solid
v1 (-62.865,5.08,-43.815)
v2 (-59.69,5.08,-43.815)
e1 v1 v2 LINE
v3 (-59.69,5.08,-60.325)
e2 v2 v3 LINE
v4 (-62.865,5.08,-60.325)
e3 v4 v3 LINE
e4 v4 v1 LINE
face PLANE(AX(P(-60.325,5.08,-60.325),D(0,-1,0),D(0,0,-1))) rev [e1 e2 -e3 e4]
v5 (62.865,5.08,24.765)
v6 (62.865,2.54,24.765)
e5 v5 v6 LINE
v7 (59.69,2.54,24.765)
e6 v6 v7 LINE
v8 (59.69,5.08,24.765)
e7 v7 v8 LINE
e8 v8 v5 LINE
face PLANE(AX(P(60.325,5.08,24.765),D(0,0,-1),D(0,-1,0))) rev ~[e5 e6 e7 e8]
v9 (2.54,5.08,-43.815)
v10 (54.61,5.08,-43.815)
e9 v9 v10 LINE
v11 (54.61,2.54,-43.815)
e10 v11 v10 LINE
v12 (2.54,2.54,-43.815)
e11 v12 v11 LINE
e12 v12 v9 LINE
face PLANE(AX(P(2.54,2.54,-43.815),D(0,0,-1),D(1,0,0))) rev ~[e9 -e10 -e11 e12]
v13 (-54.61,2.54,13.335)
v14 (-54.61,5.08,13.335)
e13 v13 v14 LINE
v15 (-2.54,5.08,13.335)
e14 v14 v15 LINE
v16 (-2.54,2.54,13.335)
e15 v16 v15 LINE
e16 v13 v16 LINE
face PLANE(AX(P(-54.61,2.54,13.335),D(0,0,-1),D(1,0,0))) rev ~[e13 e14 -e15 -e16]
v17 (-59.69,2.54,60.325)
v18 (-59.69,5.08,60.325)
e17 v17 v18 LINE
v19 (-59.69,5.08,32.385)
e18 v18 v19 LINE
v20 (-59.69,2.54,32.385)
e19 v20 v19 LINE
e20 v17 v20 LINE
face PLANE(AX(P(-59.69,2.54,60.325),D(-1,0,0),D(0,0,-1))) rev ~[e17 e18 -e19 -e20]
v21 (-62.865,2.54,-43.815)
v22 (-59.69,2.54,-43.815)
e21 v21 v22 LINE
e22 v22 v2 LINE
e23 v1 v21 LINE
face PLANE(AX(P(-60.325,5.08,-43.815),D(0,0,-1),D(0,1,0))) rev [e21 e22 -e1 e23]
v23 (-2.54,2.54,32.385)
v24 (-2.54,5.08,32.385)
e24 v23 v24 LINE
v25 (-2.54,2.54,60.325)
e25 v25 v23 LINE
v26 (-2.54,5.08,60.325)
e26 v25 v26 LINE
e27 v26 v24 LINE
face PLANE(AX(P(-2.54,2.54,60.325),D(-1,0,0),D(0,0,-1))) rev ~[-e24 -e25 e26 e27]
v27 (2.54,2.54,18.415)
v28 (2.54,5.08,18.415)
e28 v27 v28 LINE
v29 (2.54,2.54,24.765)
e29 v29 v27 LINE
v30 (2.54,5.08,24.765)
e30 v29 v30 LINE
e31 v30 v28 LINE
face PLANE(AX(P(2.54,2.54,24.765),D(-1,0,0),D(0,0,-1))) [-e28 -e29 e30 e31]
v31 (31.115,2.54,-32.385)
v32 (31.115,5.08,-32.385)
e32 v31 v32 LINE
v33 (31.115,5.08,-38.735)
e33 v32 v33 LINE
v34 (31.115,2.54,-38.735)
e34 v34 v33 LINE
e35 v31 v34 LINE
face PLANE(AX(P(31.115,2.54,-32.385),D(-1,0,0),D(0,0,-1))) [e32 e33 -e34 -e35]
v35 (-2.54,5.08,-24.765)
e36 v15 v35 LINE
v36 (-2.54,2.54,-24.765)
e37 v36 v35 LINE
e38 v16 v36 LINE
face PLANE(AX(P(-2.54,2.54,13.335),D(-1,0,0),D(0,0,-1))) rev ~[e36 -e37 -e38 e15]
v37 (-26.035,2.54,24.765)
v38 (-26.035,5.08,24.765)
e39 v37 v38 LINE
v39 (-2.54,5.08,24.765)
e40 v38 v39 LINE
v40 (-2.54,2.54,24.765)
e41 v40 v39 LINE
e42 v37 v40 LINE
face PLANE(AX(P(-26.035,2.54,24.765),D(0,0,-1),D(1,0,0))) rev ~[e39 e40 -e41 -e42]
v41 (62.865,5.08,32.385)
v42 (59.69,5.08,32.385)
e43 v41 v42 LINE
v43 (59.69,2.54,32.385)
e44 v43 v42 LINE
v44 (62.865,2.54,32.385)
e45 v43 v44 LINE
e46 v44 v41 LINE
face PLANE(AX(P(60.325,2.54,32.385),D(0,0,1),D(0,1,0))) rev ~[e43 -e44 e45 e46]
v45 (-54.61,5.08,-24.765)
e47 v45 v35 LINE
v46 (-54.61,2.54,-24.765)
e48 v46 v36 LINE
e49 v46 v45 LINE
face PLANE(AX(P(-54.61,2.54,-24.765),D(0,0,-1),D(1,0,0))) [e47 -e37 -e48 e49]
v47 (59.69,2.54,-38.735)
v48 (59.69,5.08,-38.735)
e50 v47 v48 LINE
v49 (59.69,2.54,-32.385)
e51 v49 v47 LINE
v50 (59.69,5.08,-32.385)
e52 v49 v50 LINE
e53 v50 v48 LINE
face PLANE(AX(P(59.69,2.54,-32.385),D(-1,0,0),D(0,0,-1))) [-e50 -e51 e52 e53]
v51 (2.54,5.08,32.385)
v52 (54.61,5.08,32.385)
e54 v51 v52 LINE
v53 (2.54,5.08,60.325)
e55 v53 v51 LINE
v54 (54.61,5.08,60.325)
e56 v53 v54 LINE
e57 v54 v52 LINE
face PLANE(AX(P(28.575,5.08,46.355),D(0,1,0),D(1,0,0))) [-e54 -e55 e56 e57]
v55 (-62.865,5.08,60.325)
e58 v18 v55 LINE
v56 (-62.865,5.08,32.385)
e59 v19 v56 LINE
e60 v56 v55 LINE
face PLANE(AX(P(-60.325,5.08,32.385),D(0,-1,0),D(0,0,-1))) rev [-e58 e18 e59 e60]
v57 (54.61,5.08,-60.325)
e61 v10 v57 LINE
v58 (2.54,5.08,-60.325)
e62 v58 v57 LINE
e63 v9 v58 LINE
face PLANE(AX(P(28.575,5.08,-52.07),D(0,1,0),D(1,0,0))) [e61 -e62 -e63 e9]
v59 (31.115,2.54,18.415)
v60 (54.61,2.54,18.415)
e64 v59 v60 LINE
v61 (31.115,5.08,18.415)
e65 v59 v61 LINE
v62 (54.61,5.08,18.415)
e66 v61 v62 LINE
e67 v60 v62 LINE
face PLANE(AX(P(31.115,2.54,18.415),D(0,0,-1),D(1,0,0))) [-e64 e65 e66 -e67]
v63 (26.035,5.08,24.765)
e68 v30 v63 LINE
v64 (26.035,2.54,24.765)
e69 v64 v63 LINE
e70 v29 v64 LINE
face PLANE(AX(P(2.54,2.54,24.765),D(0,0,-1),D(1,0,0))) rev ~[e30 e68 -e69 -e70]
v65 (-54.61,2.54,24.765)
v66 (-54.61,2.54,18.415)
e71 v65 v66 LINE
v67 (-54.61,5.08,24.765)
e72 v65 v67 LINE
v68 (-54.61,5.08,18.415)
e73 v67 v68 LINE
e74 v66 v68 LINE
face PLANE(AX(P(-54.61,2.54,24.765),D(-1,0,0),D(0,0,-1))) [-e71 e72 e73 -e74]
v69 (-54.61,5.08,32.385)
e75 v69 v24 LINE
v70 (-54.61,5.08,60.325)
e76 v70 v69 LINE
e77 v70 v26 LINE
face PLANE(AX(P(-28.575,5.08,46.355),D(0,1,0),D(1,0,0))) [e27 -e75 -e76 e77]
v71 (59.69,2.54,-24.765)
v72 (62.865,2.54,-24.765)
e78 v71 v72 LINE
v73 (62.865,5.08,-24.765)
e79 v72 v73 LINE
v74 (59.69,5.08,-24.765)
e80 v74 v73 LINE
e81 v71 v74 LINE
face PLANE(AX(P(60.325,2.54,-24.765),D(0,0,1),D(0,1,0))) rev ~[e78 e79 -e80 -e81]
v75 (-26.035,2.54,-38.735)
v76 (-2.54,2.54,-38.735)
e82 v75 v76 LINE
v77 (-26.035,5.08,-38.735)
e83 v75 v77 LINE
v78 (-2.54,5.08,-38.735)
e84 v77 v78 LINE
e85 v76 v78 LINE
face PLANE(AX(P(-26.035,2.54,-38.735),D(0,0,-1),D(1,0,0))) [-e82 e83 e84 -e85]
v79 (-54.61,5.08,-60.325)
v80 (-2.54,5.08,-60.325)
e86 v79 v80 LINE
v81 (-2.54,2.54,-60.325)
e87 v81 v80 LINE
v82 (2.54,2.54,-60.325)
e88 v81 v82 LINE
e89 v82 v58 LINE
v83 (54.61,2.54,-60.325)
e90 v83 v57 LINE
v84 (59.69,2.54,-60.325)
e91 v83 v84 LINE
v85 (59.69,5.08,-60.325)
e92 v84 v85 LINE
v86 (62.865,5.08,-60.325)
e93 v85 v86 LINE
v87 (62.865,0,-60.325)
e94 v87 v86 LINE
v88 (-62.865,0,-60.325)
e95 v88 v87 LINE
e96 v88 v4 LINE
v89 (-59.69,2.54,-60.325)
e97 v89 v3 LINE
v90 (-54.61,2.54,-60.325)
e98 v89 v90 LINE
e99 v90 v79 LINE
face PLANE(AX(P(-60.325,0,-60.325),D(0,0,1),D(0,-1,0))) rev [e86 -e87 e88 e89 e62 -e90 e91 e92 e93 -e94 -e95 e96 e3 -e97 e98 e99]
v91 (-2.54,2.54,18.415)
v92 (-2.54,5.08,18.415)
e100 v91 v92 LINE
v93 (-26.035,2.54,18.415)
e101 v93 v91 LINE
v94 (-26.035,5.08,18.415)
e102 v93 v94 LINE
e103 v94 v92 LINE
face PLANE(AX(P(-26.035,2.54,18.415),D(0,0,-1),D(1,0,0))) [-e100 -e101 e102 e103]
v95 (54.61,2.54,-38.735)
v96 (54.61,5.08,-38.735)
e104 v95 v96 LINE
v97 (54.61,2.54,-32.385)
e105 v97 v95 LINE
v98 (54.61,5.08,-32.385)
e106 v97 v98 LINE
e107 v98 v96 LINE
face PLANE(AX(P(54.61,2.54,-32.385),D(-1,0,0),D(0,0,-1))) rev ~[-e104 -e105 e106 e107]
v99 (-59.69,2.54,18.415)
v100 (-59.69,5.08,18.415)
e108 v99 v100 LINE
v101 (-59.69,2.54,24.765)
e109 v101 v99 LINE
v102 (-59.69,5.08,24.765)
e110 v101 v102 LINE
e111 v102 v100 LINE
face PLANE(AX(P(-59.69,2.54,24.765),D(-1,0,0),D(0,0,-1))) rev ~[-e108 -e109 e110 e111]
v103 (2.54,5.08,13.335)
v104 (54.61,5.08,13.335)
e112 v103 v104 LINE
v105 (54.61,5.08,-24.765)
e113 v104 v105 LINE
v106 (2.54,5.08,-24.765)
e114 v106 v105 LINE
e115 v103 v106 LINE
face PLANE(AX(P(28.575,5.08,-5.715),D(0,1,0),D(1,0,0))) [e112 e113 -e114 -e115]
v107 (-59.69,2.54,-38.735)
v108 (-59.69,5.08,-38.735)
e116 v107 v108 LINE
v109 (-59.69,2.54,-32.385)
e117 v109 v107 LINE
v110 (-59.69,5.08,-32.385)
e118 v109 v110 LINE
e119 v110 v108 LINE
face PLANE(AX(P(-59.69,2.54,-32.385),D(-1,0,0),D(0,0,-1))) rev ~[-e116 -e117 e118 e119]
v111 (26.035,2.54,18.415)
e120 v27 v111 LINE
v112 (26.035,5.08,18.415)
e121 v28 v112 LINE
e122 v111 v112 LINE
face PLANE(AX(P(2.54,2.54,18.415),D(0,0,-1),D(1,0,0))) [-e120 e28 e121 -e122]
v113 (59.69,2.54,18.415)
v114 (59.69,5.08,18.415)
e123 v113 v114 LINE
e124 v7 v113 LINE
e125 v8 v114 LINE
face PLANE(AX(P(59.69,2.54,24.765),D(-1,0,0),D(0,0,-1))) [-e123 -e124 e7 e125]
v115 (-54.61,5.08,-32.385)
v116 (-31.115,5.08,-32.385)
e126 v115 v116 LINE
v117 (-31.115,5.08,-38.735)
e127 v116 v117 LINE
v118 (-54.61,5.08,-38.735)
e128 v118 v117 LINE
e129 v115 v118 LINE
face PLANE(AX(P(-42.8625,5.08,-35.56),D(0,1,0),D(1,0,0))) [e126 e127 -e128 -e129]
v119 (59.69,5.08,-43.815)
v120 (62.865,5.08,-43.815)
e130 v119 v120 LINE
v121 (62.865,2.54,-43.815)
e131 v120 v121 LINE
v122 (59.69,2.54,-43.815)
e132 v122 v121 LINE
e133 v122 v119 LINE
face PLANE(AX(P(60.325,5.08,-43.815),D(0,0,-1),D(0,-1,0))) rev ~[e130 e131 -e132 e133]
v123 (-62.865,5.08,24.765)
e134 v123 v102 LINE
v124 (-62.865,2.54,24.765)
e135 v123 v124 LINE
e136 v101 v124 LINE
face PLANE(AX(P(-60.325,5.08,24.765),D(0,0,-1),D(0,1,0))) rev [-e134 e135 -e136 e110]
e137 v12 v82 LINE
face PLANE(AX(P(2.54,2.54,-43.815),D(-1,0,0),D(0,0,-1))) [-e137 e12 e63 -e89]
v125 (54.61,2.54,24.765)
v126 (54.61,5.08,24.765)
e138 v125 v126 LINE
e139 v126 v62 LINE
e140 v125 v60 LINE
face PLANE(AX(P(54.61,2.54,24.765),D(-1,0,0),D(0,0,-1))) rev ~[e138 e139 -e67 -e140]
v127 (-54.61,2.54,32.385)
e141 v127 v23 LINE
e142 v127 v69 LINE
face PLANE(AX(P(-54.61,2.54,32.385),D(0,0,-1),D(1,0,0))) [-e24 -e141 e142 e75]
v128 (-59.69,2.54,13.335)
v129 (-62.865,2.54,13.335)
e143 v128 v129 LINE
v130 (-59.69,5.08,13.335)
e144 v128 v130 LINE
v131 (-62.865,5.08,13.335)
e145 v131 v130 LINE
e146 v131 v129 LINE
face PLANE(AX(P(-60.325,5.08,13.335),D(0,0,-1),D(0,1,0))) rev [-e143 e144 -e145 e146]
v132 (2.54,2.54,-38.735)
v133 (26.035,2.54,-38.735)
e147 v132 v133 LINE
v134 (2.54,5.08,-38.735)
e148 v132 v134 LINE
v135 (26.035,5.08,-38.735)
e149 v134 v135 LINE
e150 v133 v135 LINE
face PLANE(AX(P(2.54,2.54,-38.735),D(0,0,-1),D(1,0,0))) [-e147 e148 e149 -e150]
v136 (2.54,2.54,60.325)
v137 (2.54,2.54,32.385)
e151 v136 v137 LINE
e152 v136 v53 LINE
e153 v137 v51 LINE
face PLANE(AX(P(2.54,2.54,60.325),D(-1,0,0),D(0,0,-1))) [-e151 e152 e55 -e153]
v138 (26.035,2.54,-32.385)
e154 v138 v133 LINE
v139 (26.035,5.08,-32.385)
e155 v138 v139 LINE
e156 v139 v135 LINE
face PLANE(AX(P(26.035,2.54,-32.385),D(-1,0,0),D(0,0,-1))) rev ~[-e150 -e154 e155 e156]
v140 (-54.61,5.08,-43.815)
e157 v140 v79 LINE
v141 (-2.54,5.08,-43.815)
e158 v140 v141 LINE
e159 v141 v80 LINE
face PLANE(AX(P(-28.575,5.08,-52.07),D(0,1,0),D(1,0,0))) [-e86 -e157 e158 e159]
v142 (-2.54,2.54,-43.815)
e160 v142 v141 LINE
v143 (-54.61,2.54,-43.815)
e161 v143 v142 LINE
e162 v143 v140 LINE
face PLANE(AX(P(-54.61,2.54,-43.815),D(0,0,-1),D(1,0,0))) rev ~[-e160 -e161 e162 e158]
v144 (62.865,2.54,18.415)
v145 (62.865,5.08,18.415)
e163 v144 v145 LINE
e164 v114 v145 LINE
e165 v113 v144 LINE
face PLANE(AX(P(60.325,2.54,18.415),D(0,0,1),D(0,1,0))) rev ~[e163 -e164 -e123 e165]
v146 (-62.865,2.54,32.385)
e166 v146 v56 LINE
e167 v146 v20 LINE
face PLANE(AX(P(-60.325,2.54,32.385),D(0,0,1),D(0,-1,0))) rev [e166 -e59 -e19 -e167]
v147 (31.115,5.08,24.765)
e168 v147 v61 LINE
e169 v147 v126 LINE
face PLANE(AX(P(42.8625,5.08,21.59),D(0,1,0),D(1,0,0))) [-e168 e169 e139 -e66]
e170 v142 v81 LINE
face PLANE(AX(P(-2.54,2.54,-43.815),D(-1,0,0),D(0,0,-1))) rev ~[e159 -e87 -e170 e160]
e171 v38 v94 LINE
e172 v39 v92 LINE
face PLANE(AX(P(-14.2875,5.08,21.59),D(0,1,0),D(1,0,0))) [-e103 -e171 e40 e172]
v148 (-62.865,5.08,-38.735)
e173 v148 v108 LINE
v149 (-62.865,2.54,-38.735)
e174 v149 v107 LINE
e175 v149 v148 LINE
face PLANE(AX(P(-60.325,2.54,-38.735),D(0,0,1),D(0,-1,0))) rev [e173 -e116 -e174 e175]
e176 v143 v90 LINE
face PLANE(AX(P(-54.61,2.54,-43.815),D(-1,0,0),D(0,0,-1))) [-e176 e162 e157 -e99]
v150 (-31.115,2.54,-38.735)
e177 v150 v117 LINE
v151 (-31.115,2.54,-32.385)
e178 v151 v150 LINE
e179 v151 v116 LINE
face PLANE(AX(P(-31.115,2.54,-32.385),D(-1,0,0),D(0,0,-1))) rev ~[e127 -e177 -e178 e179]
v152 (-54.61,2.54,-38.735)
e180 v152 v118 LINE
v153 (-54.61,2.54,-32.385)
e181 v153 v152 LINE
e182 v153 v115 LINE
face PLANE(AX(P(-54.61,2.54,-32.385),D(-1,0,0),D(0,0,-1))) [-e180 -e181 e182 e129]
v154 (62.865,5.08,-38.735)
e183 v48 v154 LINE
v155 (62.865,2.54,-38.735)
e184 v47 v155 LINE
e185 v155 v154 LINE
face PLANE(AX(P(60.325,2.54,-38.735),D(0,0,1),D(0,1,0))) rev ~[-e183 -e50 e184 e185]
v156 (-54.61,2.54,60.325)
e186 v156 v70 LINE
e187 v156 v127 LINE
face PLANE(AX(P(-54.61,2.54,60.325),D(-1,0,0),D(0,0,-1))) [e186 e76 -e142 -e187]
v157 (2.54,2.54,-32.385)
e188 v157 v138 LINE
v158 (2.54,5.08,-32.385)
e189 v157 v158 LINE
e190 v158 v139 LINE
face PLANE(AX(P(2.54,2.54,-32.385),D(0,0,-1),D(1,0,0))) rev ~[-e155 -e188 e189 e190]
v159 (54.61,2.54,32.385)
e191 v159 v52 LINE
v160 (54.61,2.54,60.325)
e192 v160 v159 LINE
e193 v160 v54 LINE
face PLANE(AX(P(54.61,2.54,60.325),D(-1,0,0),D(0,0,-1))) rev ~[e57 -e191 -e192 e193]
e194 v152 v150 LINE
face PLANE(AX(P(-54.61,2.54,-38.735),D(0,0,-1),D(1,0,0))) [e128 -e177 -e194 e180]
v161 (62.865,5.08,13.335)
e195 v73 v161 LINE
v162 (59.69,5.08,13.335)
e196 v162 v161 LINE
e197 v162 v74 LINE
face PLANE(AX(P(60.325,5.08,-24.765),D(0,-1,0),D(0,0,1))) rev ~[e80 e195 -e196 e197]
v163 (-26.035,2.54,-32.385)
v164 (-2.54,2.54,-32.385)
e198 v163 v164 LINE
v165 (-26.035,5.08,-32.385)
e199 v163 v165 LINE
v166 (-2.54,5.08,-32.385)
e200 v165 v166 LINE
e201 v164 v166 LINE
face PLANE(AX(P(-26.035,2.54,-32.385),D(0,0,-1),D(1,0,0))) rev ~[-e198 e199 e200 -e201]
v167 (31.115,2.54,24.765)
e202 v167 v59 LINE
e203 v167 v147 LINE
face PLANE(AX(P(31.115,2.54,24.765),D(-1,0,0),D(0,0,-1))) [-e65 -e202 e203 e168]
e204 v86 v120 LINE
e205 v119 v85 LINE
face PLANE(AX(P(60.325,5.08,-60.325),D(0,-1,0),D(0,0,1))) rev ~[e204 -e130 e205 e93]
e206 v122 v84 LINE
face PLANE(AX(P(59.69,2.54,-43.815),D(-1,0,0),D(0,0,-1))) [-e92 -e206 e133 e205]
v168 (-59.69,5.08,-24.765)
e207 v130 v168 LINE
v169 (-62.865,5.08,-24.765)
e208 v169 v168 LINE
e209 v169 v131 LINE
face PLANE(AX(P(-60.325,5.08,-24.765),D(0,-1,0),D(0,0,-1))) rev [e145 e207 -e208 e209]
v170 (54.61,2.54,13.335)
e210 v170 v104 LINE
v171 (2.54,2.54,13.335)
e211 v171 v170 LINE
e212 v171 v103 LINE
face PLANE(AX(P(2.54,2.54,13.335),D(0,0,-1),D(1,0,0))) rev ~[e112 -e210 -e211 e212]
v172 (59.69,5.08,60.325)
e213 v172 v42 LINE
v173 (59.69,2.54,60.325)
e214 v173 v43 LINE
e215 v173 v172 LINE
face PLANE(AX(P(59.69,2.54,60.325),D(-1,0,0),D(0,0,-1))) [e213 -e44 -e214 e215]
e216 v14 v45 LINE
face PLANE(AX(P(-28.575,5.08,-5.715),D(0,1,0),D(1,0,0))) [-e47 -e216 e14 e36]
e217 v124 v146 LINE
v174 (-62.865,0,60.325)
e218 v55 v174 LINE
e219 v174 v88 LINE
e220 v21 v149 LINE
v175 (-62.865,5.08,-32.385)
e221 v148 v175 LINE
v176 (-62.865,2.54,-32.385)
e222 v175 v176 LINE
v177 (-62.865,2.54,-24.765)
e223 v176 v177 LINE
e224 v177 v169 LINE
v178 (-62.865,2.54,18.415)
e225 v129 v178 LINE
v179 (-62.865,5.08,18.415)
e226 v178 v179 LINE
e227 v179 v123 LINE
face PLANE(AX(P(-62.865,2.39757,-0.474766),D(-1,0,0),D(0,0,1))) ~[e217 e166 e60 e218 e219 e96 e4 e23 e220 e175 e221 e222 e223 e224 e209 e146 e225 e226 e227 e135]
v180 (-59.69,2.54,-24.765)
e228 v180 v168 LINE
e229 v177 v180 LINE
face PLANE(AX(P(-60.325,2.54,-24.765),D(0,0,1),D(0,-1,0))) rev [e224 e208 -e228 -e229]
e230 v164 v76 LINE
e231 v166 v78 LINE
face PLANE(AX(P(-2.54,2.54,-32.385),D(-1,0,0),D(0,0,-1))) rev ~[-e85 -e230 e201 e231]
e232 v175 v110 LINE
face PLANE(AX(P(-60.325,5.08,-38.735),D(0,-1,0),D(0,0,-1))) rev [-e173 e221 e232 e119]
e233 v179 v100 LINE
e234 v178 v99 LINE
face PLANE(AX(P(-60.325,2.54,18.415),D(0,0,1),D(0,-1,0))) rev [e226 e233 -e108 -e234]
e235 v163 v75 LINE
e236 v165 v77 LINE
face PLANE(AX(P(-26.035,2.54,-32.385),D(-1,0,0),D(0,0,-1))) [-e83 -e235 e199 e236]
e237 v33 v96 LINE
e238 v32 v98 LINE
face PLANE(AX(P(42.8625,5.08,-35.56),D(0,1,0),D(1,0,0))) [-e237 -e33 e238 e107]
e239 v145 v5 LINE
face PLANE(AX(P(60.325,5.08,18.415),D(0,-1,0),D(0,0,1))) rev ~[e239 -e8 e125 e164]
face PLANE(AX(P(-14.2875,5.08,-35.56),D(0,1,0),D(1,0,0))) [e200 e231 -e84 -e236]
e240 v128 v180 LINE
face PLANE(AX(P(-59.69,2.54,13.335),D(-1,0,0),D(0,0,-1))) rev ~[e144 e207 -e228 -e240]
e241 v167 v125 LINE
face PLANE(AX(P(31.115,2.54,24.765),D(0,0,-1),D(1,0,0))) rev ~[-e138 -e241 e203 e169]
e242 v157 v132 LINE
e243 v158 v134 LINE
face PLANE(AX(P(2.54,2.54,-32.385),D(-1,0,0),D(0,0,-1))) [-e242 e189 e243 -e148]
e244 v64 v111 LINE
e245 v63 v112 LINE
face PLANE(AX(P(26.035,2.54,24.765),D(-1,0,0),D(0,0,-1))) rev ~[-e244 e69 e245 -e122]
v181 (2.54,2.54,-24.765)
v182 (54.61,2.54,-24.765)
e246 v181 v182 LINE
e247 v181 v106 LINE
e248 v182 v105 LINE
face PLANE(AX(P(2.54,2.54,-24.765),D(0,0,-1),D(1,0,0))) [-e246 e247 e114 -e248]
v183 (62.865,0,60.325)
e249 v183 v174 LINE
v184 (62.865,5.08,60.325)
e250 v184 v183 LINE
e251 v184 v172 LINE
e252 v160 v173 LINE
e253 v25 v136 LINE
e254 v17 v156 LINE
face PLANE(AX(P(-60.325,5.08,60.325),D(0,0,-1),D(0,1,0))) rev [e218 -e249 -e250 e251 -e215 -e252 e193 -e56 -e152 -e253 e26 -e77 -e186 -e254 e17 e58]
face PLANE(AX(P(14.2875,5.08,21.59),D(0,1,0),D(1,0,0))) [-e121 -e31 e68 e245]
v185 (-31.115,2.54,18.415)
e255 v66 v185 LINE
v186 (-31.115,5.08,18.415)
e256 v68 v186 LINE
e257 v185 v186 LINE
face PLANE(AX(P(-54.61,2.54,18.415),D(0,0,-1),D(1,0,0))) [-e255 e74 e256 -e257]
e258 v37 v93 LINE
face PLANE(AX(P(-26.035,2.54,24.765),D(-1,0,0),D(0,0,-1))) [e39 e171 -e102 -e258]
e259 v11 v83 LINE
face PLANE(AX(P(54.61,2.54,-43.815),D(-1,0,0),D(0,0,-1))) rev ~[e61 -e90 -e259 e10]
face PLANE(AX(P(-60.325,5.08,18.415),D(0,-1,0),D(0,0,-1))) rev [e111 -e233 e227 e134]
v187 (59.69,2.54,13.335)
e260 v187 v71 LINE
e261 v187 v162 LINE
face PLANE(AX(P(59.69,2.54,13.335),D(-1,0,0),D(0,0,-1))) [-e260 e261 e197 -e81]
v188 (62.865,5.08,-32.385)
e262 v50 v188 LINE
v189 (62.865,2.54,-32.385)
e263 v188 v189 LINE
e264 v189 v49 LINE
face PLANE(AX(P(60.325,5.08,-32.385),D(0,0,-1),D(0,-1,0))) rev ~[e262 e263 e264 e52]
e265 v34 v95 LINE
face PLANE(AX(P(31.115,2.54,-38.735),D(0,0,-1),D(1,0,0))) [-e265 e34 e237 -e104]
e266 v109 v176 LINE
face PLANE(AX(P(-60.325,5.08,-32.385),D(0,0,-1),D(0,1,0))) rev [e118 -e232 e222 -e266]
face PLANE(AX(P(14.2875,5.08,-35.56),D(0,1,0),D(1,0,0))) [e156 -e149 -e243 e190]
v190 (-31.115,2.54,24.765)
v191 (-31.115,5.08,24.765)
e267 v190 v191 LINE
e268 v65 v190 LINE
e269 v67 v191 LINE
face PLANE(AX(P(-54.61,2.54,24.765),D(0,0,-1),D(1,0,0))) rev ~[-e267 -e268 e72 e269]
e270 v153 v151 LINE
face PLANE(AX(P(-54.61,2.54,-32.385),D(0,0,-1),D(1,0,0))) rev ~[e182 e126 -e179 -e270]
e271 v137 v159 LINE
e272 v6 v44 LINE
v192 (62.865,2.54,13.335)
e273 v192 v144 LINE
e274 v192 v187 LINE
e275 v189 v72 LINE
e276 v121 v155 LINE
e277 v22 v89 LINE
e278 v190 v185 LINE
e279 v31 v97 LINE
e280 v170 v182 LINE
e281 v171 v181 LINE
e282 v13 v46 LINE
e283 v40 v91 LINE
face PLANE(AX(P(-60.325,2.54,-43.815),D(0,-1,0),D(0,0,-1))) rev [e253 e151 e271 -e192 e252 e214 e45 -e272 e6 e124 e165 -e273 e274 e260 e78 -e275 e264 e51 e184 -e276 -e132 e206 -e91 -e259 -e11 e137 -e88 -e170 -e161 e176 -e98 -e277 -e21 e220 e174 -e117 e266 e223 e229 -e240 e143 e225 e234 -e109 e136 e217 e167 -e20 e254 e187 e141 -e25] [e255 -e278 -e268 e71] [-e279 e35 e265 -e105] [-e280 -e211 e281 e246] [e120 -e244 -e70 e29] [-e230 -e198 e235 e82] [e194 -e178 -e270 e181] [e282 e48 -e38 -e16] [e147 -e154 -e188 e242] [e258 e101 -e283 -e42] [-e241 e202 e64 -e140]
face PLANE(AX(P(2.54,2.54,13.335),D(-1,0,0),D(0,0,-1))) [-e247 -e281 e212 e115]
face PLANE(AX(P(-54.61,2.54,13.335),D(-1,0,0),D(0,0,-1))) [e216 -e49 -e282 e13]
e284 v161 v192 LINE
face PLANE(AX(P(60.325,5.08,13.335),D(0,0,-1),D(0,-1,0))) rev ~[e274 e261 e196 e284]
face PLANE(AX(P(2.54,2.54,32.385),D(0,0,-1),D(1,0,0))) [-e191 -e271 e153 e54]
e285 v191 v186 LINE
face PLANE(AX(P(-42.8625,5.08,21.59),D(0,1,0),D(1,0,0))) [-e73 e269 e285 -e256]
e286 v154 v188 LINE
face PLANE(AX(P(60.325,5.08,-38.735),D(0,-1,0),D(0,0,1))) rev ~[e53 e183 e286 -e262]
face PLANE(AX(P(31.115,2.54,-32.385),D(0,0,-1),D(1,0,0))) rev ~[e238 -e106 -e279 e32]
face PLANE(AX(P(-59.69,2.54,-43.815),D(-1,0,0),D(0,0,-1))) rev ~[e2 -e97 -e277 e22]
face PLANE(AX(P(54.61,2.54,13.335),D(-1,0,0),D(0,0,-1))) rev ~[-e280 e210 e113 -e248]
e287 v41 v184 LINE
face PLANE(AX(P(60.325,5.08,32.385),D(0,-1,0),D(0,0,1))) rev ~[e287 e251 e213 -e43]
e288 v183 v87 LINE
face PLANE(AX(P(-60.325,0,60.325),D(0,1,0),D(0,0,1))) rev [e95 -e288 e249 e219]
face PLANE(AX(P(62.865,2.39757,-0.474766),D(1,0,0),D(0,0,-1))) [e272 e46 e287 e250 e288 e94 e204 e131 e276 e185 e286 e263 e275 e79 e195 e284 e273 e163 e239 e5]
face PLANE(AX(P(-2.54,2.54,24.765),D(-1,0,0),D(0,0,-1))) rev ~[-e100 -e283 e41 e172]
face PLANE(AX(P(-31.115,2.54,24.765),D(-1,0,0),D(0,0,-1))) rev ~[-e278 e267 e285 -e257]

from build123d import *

# Parameters (mm, degrees)
SKETCH2_W           = 120.65
SKETCH2_H           = 120.65
BOSS_EXTRUDE1_DEPTH = 2.54
SKETCH3_W           = 52.07
SKETCH3_H           = 16.51
SKETCH3_W_2         = 0.635
SKETCH3_H_2         = 6.35
SKETCH3_H_3         = 27.94
SKETCH3_W_3         = 23.495
SKETCH3_H_4         = 38.1
BOSS_EXTRUDE2_DEPTH = 2.54
BOSS_EXTRUDE4_DEPTH = 2.54


with BuildPart() as part:
    # Sketch2 → Boss-Extrude1 (new body)
    with BuildSketch(Plane(origin=(0, 0, 0), x_dir=(1, 0, 0), z_dir=(0, 1, 0))):
        Rectangle(SKETCH2_W, SKETCH2_H)
    extrude(amount=BOSS_EXTRUDE1_DEPTH)

    # Sketch3 → Boss-Extrude2 (add)
    with BuildSketch(Plane(origin=(0, 2.54, 0), x_dir=(1, 0, 0), z_dir=(0, 1, 0))):
        with Locations((-28.575, 52.07)):
            Rectangle(SKETCH3_W, SKETCH3_H)
        with Locations((-60.0075, -21.59)):
            Rectangle(SKETCH3_W_2, SKETCH3_H_2)
        with Locations((60.0075, -46.355)):
            Rectangle(SKETCH3_W_2, SKETCH3_H_3)
        with Locations((-42.8625, -21.59)):
            Rectangle(SKETCH3_W_3, SKETCH3_H_2)
        with Locations((-14.2875, -21.59)):
            Rectangle(SKETCH3_W_3, SKETCH3_H_2)
        with Locations((-60.0075, 52.07)):
            Rectangle(SKETCH3_W_2, SKETCH3_H)
        with Locations((60.0075, 5.715)):
            Rectangle(SKETCH3_W_2, SKETCH3_H_4)
        with Locations((42.8625, -21.59)):
            Rectangle(SKETCH3_W_3, SKETCH3_H_2)
        with Locations((14.2875, -21.59)):
            Rectangle(SKETCH3_W_3, SKETCH3_H_2)
        with Locations((-60.0075, 5.715)):
            Rectangle(SKETCH3_W_2, SKETCH3_H_4)
        with Locations((-60.0075, -46.355)):
            Rectangle(SKETCH3_W_2, SKETCH3_H_3)
        with Locations((60.0075, 52.07)):
            Rectangle(SKETCH3_W_2, SKETCH3_H)
        with Locations((28.575, 52.07)):
            Rectangle(SKETCH3_W, SKETCH3_H)
        with Locations((-28.575, -46.355)):
            Rectangle(SKETCH3_W, SKETCH3_H_3)
        with Locations((28.575, -46.355)):
            Rectangle(SKETCH3_W, SKETCH3_H_3)
        with Locations((60.0075, -21.59)):
            Rectangle(SKETCH3_W_2, SKETCH3_H_2)
        with Locations((28.575, 5.715)):
            Rectangle(SKETCH3_W, SKETCH3_H_4)
        with Locations((-42.8625, 35.56)):
            Rectangle(SKETCH3_W_3, SKETCH3_H_2)
        with Locations((-14.2875, 35.56)):
            Rectangle(SKETCH3_W_3, SKETCH3_H_2)
        with Locations((14.2875, 35.56)):
            Rectangle(SKETCH3_W_3, SKETCH3_H_2)
        with Locations((42.8625, 35.56)):
            Rectangle(SKETCH3_W_3, SKETCH3_H_2)
        with Locations((-28.575, 5.715)):
            Rectangle(SKETCH3_W, SKETCH3_H_4)
        with Locations((-60.0075, 35.56)):
            Rectangle(SKETCH3_W_2, SKETCH3_H_2)
        with Locations((60.0075, 35.56)):
            Rectangle(SKETCH3_W_2, SKETCH3_H_2)
    extrude(amount=BOSS_EXTRUDE2_DEPTH)

    # Sketch5 → Boss-Extrude4 (add)
    with BuildSketch(Plane(origin=(60.325, 0, 0), x_dir=(0, 0, -1), z_dir=(1, 0, 0))):
        Polygon((-60.325, 0), (60.325, 0), (60.325, 5.08), (43.815, 5.08), (43.815, 2.54), (38.735, 2.54), (38.735, 5.08), (32.385, 5.08), (32.385, 2.54), (24.765, 2.54), (24.765, 5.08), (-13.335, 5.08), (-13.335, 2.54), (-18.415, 2.54), (-18.415, 5.08), (-24.765, 5.08), (-24.765, 2.54), (-32.385, 2.54), (-32.385, 5.08), (-60.325, 5.08), align=None)
    boss_extrude4 = extrude(amount=BOSS_EXTRUDE4_DEPTH)

    # Mirror2: Boss-Extrude4 across plane
    add(boss_extrude4.mirror(Plane(origin=(0, 0, 0), x_dir=(0, 0, 1), z_dir=(1, 0, 0))))


solid = part.part
